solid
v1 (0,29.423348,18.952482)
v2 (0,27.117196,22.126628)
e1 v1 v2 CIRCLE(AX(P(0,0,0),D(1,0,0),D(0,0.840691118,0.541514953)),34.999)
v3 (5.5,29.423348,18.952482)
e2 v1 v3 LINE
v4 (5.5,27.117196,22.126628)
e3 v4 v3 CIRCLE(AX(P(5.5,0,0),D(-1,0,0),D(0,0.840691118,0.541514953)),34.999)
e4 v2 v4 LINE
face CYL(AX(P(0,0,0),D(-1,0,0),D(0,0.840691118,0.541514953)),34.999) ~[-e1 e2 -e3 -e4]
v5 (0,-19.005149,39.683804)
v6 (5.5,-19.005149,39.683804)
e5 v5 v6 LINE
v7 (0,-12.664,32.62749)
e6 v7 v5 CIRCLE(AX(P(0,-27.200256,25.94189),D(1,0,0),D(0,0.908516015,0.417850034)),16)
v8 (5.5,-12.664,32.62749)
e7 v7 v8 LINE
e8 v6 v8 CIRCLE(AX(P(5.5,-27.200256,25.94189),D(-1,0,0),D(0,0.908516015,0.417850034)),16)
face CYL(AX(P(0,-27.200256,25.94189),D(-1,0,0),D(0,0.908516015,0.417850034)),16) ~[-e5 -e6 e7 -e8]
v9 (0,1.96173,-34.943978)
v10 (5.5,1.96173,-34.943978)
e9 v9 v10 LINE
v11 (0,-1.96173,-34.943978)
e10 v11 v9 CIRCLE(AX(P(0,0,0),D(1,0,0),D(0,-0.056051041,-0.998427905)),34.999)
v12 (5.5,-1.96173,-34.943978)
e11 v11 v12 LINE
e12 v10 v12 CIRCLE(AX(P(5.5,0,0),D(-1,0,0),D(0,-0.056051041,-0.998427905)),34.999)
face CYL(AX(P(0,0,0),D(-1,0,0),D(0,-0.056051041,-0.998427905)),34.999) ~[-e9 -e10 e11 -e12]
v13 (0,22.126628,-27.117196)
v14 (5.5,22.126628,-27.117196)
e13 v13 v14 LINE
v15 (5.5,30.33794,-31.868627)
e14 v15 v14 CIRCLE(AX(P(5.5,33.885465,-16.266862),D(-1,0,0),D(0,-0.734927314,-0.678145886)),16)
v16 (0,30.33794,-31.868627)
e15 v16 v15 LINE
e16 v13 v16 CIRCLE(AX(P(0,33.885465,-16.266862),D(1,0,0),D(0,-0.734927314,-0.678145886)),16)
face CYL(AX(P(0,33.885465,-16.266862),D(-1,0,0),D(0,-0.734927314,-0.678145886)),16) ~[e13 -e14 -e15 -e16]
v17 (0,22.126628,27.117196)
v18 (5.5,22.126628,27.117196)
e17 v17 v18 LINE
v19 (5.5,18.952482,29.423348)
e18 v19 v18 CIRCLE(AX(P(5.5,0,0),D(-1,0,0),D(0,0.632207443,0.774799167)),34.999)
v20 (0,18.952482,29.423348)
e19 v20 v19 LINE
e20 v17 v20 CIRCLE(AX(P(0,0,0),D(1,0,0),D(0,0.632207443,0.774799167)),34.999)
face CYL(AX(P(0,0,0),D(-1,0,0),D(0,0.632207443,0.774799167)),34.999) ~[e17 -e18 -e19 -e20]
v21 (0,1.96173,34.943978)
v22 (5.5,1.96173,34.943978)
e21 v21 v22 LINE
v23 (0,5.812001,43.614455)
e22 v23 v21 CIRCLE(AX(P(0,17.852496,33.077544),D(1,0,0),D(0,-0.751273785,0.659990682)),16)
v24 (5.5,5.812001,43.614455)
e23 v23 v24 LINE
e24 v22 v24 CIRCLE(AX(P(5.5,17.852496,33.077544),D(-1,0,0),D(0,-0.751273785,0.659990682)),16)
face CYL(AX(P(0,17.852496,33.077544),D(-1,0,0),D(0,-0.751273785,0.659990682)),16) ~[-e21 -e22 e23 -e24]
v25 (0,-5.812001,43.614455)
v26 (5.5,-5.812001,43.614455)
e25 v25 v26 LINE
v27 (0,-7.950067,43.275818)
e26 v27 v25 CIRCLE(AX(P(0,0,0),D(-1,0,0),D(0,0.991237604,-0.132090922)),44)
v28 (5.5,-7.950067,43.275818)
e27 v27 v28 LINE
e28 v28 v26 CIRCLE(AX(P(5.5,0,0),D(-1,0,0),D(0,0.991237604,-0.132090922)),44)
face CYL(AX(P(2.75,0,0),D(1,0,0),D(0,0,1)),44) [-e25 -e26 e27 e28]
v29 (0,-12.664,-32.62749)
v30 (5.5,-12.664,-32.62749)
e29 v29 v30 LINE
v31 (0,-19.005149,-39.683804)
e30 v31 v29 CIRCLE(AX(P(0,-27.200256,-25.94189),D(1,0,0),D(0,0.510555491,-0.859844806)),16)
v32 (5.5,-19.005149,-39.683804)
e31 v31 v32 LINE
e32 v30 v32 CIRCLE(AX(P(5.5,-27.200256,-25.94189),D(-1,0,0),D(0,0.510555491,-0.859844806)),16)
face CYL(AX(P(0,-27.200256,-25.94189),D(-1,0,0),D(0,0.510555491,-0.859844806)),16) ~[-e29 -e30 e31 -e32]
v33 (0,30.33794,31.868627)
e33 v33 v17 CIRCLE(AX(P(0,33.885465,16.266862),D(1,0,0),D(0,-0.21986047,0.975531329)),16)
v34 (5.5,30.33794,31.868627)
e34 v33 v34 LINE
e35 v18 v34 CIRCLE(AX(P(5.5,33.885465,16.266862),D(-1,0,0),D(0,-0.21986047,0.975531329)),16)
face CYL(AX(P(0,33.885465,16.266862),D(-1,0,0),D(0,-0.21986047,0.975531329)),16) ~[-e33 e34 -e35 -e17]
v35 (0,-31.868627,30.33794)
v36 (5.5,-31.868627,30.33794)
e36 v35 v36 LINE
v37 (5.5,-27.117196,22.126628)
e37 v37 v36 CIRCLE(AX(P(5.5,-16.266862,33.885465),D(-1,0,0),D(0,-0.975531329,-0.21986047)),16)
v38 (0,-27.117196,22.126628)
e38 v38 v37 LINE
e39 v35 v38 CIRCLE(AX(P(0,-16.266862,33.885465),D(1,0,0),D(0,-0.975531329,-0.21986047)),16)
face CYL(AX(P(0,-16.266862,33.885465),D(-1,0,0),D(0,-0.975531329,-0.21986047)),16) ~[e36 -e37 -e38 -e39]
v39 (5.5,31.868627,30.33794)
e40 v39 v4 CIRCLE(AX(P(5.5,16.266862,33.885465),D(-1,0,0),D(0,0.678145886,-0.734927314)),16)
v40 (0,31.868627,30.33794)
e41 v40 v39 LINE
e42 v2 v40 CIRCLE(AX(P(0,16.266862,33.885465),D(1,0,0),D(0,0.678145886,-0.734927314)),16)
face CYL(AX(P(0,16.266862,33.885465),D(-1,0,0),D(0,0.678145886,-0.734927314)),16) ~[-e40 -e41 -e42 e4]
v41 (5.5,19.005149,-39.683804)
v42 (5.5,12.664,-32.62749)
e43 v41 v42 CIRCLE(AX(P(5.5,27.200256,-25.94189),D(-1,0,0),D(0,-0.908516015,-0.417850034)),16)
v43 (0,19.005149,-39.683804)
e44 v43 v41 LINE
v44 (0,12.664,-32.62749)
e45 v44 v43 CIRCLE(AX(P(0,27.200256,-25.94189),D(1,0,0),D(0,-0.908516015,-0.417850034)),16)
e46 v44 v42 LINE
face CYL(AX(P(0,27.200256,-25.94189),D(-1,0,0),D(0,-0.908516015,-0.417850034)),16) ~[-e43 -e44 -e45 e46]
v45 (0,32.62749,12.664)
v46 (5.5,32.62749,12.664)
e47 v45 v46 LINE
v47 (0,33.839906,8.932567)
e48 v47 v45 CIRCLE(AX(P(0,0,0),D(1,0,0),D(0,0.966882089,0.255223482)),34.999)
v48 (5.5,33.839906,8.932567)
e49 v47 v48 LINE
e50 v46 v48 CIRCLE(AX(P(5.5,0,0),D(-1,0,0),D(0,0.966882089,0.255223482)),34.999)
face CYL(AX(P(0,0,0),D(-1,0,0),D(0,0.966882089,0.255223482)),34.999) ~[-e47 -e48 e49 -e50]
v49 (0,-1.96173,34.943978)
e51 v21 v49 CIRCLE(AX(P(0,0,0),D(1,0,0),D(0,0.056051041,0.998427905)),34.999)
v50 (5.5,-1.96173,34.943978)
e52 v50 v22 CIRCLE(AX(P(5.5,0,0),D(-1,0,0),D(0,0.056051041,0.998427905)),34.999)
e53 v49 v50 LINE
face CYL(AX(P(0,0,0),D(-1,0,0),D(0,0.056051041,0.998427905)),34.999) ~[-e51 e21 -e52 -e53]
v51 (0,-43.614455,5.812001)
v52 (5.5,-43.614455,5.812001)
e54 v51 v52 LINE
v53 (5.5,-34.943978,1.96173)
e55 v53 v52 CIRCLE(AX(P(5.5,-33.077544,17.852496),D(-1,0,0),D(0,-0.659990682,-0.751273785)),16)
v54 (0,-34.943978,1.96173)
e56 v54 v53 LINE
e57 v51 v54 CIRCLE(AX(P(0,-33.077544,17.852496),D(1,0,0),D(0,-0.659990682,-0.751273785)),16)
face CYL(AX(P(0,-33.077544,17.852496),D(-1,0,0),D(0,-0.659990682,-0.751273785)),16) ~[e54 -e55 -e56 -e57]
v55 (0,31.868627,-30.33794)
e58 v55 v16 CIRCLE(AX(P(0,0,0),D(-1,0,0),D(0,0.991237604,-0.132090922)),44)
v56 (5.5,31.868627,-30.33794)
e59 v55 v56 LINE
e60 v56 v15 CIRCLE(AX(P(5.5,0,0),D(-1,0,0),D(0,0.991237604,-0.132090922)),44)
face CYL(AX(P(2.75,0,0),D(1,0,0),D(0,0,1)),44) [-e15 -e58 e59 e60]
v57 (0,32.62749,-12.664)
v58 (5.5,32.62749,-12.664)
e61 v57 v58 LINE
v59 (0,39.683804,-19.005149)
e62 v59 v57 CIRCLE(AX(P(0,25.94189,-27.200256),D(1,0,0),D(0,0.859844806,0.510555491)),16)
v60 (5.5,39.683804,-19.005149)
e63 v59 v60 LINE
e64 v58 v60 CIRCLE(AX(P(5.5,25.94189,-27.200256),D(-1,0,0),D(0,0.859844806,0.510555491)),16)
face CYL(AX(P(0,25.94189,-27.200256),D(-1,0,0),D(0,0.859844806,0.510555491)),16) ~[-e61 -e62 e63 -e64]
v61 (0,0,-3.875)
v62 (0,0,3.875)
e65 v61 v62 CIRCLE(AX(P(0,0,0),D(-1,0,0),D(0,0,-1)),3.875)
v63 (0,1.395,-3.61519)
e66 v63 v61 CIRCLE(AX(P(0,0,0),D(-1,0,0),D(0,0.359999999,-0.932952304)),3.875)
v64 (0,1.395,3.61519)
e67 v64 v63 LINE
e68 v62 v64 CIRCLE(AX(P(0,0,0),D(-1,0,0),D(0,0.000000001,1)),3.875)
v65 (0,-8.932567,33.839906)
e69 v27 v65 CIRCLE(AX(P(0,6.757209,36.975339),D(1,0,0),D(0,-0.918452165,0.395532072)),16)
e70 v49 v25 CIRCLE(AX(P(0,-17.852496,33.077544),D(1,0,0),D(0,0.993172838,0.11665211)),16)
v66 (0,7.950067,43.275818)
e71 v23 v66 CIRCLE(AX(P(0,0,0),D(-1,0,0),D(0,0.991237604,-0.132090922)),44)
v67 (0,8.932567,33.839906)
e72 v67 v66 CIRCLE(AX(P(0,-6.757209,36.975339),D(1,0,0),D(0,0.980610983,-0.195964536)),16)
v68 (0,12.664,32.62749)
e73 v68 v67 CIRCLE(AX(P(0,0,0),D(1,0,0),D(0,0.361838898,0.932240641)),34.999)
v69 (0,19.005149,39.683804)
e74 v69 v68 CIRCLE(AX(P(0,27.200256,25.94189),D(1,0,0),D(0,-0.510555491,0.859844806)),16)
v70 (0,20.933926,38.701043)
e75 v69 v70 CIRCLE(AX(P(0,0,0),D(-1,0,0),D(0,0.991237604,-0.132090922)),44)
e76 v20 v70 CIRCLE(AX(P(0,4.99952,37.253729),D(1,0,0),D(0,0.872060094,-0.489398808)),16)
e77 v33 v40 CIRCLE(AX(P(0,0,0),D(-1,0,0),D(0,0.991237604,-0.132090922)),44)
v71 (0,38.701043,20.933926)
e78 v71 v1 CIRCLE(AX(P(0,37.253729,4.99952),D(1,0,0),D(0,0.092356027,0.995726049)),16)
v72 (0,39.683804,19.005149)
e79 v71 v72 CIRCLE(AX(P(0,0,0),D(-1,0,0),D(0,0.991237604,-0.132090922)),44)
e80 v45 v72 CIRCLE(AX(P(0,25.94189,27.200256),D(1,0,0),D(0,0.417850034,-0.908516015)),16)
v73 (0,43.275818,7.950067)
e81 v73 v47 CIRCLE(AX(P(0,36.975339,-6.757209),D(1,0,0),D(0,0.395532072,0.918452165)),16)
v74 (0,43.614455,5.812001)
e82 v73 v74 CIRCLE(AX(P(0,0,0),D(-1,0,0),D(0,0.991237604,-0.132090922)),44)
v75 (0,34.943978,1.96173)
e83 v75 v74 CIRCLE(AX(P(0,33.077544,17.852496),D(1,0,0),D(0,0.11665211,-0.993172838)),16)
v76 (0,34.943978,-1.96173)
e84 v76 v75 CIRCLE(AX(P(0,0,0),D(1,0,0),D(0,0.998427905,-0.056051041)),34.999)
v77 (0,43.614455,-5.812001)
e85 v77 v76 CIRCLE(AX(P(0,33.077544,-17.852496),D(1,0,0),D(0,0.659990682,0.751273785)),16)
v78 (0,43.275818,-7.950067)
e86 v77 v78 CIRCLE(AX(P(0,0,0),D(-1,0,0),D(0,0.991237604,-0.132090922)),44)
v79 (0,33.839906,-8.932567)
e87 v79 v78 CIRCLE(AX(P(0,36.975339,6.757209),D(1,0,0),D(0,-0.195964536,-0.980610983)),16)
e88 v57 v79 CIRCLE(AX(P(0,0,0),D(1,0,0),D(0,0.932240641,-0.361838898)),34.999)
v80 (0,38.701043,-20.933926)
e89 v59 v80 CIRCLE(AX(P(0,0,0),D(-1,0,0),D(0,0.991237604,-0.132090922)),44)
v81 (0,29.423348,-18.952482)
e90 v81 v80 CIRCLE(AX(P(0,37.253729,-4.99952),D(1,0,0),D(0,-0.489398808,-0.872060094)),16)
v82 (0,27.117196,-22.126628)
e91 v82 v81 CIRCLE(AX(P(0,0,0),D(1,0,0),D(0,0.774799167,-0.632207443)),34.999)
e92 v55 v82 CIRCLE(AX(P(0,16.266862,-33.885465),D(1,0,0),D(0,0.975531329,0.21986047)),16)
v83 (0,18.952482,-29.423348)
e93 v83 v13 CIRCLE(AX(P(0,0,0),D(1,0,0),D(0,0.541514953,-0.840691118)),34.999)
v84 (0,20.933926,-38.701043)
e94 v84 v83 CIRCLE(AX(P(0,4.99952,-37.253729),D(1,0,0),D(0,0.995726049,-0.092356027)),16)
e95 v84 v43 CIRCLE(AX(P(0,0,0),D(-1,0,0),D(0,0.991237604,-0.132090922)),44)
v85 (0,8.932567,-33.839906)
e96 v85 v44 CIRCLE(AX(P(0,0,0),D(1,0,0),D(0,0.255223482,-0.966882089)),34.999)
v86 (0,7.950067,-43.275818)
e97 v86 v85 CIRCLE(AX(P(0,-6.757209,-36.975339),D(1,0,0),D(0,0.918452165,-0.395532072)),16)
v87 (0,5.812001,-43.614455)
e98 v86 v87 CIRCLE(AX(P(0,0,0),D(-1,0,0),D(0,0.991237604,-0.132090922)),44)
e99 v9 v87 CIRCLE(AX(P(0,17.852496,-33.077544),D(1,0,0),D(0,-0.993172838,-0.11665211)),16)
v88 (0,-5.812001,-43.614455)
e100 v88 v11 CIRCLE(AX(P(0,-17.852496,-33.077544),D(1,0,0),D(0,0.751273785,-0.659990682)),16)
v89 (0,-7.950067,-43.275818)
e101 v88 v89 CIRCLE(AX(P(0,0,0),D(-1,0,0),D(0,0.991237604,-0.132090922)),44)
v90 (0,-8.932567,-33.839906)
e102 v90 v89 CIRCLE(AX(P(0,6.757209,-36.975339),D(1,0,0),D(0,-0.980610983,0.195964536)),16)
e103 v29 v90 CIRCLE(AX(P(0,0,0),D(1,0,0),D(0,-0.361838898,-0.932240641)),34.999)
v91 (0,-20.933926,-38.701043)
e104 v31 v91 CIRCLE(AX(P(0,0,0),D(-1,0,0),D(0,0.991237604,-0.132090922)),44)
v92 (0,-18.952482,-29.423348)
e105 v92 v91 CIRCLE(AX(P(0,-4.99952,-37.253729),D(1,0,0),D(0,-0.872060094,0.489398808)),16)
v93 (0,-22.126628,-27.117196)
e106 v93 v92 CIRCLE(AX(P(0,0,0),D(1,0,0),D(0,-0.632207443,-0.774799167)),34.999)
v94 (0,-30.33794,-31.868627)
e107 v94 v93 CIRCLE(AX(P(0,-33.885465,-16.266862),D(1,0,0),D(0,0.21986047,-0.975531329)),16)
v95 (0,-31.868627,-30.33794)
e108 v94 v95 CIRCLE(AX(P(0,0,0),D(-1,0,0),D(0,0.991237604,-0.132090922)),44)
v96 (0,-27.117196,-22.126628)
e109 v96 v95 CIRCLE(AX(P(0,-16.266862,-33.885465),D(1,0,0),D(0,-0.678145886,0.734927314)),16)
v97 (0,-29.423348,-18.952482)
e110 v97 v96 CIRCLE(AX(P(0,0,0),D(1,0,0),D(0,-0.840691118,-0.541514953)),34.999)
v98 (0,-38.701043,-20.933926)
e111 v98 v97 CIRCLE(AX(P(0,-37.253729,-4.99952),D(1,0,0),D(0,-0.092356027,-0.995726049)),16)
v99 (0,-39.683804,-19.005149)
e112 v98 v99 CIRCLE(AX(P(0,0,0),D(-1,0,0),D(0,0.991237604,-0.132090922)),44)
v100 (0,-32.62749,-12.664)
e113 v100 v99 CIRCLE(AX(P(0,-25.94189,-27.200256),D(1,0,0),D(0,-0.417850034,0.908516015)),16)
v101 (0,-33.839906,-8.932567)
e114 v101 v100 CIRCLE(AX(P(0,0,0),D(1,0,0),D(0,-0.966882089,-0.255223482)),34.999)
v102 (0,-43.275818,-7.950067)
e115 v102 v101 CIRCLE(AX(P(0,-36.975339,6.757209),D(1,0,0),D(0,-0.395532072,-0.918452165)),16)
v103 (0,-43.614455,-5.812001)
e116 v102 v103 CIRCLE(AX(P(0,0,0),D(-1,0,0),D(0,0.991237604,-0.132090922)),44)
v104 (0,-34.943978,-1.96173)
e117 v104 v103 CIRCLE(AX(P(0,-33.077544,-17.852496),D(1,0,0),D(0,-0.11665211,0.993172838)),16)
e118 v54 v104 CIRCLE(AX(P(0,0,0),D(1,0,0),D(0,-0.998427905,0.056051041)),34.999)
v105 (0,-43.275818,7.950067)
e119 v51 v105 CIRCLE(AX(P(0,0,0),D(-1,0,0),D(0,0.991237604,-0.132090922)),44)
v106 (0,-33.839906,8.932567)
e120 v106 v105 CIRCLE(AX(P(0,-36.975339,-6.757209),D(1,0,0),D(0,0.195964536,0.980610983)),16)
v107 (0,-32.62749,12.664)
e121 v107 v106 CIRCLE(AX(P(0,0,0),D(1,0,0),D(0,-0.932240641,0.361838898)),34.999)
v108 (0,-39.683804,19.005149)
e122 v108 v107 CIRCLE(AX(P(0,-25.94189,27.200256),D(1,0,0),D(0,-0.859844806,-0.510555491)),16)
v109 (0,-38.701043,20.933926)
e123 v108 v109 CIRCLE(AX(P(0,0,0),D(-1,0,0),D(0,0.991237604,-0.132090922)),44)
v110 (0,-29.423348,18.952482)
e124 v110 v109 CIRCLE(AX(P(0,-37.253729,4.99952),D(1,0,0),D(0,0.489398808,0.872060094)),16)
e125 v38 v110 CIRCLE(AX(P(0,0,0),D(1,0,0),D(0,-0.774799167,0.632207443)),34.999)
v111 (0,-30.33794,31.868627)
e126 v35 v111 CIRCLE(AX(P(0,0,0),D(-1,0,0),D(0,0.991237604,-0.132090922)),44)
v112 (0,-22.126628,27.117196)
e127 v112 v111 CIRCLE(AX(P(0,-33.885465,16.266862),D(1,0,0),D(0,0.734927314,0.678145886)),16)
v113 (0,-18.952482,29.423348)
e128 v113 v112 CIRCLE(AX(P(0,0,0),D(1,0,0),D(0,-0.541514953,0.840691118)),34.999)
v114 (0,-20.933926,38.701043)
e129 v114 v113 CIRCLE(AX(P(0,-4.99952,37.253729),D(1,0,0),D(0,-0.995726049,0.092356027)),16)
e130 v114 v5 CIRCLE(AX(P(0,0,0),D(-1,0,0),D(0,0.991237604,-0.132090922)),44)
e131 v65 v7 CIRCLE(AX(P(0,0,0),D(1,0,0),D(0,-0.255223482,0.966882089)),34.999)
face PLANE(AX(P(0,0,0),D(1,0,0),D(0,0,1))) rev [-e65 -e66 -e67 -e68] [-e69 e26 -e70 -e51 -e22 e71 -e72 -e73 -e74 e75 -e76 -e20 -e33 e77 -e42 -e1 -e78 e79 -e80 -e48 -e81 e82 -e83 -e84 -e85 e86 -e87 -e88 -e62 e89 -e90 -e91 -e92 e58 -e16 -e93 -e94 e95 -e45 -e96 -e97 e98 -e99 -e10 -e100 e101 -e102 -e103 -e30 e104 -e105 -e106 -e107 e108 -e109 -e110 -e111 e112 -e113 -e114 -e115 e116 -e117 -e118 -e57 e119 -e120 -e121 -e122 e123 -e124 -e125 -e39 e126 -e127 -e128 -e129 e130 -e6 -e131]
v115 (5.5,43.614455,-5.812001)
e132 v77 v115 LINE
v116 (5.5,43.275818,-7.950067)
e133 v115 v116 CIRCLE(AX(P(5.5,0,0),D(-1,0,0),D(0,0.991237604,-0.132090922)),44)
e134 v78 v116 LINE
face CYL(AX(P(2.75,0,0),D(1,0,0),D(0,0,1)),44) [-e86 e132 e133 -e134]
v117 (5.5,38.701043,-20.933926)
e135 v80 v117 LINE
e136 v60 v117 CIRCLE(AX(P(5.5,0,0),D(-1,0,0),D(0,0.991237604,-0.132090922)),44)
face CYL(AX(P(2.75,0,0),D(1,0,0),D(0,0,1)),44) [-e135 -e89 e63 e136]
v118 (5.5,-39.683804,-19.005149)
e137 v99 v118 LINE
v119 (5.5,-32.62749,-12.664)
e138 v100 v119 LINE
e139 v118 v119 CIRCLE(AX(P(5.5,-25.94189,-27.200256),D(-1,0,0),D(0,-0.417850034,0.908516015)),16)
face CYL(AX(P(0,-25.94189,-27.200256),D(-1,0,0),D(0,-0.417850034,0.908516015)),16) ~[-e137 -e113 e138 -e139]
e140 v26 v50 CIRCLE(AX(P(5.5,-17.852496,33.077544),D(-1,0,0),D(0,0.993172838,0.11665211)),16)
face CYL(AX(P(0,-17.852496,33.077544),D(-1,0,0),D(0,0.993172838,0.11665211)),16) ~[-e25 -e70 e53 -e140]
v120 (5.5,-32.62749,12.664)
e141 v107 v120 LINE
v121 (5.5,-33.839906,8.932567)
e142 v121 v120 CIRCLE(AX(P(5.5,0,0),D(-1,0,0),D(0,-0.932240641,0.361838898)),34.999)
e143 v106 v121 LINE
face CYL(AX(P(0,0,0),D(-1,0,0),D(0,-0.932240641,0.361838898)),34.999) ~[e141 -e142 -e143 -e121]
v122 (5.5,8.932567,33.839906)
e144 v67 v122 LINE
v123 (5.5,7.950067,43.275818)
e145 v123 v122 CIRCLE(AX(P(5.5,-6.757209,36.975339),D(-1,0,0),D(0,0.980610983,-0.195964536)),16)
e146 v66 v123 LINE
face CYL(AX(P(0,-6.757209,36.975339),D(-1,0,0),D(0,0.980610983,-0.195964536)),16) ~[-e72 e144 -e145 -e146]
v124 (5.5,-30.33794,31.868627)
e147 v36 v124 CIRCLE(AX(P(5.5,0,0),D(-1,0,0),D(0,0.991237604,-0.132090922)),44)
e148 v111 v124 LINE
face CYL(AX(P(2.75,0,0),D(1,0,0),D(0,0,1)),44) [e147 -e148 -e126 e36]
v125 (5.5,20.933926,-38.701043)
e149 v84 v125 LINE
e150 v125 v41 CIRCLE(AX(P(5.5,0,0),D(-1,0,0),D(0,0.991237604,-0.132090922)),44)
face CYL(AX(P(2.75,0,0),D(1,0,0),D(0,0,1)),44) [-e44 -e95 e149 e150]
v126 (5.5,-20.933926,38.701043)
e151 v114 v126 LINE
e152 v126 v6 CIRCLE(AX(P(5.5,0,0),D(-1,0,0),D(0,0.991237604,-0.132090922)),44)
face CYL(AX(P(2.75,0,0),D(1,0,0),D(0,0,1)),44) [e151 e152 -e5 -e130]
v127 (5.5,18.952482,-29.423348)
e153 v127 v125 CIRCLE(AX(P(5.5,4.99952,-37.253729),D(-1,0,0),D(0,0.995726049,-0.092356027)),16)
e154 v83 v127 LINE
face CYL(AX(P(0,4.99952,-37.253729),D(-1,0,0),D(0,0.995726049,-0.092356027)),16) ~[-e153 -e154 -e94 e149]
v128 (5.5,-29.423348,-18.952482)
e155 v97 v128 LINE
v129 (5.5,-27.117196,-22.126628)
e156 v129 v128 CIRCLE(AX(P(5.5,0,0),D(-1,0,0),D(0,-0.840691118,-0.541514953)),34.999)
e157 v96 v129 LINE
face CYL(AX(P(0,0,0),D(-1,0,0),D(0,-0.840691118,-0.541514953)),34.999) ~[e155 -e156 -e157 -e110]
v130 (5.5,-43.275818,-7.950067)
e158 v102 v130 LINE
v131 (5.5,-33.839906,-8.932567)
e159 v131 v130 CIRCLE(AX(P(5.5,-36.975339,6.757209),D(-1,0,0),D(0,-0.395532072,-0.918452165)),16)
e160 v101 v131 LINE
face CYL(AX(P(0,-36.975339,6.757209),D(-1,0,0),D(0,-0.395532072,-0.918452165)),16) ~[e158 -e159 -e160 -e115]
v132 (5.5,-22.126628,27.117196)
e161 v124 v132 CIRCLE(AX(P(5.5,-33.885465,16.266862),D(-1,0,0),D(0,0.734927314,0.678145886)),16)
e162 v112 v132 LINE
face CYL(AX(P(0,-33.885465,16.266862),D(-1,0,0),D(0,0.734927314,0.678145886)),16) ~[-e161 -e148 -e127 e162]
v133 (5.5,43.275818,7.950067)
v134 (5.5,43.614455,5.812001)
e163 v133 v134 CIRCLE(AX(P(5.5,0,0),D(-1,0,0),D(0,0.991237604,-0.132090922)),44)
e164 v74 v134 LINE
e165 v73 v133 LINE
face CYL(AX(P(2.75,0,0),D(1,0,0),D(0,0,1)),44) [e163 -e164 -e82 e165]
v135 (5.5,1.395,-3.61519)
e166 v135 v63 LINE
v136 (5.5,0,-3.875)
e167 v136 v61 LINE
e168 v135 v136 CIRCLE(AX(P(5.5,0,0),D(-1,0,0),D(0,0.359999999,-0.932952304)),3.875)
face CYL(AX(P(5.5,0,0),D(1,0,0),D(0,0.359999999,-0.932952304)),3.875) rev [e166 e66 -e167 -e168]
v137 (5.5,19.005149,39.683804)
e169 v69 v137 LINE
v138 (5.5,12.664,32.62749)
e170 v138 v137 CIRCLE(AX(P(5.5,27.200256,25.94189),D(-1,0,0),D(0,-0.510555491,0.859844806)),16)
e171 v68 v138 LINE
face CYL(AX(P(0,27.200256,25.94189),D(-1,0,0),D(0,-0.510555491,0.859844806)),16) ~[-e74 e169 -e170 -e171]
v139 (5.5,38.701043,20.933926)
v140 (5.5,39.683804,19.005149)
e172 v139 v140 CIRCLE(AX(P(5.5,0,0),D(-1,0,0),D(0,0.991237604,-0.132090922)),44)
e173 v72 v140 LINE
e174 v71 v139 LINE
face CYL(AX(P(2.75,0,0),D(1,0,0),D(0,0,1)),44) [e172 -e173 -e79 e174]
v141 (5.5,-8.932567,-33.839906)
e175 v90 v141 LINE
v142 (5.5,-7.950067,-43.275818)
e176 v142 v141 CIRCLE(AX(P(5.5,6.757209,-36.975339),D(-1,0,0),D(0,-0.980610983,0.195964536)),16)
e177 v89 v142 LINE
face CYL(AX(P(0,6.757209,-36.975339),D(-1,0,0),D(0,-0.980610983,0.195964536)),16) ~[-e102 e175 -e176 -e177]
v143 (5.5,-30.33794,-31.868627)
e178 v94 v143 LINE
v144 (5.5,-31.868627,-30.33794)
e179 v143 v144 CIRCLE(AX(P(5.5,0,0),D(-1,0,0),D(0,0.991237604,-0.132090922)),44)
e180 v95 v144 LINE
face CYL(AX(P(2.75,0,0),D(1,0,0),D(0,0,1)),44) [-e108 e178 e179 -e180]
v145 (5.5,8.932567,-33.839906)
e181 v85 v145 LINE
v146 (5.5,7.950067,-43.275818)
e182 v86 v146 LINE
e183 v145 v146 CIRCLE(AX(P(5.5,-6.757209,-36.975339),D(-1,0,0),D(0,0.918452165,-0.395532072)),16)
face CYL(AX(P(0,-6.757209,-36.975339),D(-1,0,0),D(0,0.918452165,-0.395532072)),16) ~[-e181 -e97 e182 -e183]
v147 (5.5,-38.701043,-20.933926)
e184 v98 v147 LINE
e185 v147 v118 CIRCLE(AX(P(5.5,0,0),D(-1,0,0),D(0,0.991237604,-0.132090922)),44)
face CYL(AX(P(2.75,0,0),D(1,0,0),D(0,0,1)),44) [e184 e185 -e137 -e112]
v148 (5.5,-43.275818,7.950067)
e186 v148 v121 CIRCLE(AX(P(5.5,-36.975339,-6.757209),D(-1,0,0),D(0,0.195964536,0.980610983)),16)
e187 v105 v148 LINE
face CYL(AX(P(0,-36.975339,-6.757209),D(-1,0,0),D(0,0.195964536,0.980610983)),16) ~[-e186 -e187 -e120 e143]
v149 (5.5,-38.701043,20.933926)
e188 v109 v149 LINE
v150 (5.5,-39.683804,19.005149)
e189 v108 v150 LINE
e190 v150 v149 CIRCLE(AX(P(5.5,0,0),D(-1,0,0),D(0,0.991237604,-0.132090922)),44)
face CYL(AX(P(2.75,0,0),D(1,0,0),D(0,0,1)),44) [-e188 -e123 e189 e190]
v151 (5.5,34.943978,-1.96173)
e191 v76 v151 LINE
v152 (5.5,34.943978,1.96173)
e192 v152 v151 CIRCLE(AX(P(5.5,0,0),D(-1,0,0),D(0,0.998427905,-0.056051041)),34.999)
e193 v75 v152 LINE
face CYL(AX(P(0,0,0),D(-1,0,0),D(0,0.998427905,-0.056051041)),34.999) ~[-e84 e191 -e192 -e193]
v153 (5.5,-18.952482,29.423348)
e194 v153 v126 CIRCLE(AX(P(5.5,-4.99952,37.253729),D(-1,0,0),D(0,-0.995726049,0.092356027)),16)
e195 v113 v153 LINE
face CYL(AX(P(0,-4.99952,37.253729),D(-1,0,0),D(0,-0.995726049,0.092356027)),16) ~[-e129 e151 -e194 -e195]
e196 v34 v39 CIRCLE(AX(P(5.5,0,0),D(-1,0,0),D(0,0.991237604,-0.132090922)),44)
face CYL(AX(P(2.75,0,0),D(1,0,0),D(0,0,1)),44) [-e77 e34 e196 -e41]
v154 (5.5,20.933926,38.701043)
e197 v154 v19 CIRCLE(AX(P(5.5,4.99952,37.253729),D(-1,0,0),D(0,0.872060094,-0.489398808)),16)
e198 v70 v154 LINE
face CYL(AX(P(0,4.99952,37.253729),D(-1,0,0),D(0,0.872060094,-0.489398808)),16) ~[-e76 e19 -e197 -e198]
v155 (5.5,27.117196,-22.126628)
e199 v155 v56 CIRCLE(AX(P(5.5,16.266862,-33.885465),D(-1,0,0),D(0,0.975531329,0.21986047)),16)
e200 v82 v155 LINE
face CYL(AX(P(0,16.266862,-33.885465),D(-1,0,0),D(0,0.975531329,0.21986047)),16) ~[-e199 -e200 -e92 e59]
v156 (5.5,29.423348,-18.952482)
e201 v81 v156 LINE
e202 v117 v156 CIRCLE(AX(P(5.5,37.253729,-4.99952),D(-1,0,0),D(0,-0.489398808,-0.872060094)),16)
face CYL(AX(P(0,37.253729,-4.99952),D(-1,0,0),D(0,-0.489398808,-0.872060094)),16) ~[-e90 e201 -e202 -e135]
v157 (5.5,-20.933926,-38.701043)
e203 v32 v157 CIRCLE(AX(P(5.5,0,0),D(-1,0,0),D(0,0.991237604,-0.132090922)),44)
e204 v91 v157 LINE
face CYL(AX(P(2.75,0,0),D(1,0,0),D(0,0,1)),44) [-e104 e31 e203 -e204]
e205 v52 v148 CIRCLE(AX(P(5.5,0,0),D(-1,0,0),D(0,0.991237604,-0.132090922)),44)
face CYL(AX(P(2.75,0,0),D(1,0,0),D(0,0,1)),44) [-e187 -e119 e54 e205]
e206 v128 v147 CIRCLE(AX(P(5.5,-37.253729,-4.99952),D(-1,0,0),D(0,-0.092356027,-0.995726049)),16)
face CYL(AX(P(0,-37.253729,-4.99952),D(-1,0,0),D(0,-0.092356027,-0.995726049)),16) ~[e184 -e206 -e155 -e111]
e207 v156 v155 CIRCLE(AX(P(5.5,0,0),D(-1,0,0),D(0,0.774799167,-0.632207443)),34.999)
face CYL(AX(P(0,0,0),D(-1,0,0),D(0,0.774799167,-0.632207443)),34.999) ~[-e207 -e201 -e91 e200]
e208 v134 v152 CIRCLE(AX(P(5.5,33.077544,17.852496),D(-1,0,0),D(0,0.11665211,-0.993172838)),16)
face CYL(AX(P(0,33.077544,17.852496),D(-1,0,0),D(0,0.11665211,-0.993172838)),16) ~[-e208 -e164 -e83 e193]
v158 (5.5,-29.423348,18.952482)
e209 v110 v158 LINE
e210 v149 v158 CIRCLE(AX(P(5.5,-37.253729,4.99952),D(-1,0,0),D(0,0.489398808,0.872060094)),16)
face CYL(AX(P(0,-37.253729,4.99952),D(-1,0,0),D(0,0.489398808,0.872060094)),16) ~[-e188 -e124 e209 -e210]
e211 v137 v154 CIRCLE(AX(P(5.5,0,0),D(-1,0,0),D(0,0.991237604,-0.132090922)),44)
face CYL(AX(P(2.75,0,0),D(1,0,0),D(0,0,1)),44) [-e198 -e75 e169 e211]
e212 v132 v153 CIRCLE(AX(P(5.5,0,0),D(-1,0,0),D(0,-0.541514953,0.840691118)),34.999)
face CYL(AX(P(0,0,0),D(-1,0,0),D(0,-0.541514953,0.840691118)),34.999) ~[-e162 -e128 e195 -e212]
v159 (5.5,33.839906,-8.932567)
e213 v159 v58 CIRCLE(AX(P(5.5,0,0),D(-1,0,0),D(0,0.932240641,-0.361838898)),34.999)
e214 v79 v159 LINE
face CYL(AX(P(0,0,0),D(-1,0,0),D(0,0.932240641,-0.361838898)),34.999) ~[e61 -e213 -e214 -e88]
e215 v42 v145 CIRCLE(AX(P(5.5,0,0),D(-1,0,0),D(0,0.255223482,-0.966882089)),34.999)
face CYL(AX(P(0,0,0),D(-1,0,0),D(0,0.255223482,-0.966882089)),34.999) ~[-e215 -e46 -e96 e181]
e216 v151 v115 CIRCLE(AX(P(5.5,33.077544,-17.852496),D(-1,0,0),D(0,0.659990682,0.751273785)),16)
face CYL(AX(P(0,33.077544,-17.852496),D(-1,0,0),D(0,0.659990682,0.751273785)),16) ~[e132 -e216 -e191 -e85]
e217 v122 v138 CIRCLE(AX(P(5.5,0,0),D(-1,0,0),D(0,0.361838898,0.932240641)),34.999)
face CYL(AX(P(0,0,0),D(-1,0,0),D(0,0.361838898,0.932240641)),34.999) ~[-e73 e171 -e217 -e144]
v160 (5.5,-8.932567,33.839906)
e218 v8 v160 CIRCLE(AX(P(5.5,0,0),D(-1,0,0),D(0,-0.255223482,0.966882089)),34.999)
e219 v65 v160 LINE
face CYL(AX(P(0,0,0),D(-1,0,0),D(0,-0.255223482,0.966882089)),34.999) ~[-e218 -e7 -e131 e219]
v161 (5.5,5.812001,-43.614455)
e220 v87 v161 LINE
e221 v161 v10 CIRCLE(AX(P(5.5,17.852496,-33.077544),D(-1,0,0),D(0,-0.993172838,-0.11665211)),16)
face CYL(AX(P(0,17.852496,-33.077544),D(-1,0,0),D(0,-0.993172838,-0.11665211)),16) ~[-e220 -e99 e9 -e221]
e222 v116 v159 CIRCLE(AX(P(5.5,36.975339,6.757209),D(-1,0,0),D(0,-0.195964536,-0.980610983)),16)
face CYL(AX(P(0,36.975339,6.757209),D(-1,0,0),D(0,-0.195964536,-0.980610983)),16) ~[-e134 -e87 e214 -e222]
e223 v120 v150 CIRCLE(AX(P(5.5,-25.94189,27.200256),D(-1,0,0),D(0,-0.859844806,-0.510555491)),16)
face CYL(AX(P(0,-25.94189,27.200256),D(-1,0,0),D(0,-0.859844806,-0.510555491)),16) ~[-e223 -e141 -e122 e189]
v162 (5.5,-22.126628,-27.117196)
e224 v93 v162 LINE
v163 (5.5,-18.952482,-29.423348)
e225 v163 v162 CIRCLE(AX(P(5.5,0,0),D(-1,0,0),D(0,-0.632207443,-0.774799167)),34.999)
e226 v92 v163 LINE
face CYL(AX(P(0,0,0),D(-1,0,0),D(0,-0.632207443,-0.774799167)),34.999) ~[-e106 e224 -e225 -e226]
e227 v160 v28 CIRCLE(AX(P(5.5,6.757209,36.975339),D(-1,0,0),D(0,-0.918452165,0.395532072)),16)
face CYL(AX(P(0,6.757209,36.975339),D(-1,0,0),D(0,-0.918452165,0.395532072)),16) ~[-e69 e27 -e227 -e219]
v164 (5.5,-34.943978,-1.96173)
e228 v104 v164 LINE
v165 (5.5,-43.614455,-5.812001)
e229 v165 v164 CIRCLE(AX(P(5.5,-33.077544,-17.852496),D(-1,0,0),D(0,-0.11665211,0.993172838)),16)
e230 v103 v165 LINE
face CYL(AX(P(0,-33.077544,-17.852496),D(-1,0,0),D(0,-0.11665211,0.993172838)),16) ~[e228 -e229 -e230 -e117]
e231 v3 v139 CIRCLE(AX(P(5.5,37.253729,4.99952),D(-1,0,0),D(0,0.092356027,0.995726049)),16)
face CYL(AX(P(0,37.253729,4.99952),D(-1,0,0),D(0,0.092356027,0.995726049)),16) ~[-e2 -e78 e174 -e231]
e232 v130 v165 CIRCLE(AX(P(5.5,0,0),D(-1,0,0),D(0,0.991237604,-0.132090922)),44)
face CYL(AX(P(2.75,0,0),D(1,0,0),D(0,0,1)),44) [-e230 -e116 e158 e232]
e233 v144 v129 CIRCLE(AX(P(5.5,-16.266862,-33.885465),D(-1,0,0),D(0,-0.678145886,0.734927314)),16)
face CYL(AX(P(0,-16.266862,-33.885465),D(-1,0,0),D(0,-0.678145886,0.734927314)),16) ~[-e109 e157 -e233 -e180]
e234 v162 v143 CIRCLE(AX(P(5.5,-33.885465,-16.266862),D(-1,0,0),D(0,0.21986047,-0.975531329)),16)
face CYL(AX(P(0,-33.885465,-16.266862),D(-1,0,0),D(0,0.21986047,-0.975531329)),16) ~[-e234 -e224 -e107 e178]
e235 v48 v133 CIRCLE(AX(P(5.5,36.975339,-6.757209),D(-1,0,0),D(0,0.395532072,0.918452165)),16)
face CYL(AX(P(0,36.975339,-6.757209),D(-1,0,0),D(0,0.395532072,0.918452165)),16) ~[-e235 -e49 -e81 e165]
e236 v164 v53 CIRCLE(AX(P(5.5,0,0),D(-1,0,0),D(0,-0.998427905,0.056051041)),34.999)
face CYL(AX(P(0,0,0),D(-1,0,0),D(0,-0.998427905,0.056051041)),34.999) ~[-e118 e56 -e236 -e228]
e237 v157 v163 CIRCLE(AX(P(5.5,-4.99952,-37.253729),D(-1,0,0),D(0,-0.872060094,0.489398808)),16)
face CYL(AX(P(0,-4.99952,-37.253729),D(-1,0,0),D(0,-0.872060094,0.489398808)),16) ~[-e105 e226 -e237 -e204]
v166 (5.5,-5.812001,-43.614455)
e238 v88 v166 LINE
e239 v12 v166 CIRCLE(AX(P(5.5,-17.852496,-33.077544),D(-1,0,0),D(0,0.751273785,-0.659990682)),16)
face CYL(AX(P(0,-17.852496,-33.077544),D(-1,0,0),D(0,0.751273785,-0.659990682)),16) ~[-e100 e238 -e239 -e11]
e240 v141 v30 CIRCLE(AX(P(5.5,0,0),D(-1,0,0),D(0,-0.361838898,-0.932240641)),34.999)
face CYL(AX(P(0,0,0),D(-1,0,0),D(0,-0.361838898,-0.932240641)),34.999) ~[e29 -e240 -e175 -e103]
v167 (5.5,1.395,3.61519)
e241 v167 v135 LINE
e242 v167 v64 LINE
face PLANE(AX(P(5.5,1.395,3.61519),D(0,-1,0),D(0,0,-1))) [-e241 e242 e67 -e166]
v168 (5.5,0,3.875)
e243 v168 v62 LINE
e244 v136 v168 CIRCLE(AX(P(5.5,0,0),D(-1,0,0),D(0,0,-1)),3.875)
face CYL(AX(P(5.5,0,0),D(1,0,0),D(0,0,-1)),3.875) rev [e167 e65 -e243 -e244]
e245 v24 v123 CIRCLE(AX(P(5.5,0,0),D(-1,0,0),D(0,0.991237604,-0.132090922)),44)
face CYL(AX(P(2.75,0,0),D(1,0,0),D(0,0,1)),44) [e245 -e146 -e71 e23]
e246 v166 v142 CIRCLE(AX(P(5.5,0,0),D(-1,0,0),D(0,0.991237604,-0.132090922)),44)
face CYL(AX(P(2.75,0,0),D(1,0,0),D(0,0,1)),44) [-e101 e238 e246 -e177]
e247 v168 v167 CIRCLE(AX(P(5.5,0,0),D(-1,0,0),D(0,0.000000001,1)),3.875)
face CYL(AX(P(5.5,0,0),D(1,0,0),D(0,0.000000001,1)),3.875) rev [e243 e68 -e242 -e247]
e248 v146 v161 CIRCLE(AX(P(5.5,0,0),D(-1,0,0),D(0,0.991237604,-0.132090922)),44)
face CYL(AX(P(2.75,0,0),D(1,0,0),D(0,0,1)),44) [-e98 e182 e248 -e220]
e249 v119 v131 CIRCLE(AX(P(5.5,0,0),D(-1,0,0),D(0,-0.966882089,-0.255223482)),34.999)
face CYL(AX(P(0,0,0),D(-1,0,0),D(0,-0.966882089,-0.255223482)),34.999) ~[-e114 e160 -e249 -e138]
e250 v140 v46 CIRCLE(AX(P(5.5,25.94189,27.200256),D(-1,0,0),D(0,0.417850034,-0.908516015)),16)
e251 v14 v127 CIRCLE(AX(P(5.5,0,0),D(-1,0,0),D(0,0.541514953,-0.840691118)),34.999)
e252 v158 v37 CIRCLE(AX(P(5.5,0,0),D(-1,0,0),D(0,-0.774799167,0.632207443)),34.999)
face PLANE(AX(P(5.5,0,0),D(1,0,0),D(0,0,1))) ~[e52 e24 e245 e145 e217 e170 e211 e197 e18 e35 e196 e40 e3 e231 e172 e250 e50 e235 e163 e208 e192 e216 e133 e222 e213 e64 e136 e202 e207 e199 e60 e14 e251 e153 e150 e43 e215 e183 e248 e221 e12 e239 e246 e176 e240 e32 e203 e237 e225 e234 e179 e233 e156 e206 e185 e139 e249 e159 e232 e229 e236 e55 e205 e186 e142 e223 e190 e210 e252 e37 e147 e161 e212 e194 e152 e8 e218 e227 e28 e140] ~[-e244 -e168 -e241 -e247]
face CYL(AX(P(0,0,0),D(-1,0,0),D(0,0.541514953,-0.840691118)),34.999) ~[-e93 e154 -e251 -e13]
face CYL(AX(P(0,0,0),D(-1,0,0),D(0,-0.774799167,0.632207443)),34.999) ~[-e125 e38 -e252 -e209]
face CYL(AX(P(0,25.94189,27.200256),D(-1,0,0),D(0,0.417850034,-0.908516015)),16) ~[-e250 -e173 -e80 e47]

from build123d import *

# Parameters (mm, degrees)
BASPROSKE_W           = 5.5
BASPROSKE_H           = 44
TOOTHCUT_DEPTH        = 63.467991804
TEETHCUTS_COUNT       = 20
TEETHCUTS_ANGLE       = 342
BORSKE_R              = 0.5
BORE_DEPTH            = 50.0000508
CORTAR_EXTRUIR1_DEPTH = 5.5


with BuildPart() as part:
    # BasProSke → Base-Revolve (revolve)
    with BuildSketch(Plane(origin=(0, 0, 0), x_dir=(1, 0, 0), z_dir=(0, 1, 0)), mode=Mode.PRIVATE) as base_revolve_sk:
        with Locations((2.75, 22)):
            Rectangle(BASPROSKE_W, BASPROSKE_H)
    revolve(base_revolve_sk.sketch.rotate(Axis((-10, 0, 0), (1, 0, 0)), 180), axis=Axis((-10, 0, 0), (1, 0, 0)))

    # TooCutSke → ToothCut (cut, through all)
    with BuildSketch(Plane(origin=(0, 0, 0), x_dir=(0, 0, -1), z_dir=(1, 0, 0))):
        with BuildLine():
            ThreePointArc((1.961730392, 34.943978235), (0, 34.999), (-1.961730392, 34.943978235))
            ThreePointArc((-1.961730392, 34.943978235), (-3.235659864, 39.585086827), (-5.832115241, 43.637395396))
            ThreePointArc((-5.832115241, 43.637395396), (0, 44.0254), (5.832115241, 43.637395396))
            ThreePointArc((5.832115241, 43.637395396), (3.235659864, 39.585086827), (1.961730392, 34.943978235))
        make_face()
    toothcut = extrude(amount=TOOTHCUT_DEPTH, mode=Mode.SUBTRACT)

    # TeethCuts: ToothCut ×20 about axis
    teethcuts_axis = Axis((-10, 0, 0), (1, 0, 0))
    for i in range(1, TEETHCUTS_COUNT):
        add(toothcut.rotate(teethcuts_axis, i * TEETHCUTS_ANGLE / (TEETHCUTS_COUNT - 1)), mode=Mode.SUBTRACT)

    # BorSke → Bore (cut, symmetric)
    with BuildSketch(Plane(origin=(0, 0, 0), x_dir=(0, 0, -1), z_dir=(1, 0, 0))):
        with Locations(Location((0, 0, 0), (0, 0, 180))):
            Circle(BORSKE_R)
    extrude(amount=BORE_DEPTH, both=True, mode=Mode.SUBTRACT)

    # Croquis1 → Cortar-Extruir1 (cut)
    with BuildSketch(Plane(origin=(5.5, 0, 0), x_dir=(0, 0, -1), z_dir=(1, 0, 0))):
        with BuildLine():
            Line((0, 1.395), (3.615190175, 1.395))
            ThreePointArc((3.615190175, 1.395), (3.809493859, 0.709493859), (3.875, 0))
            ThreePointArc((3.875, 0), (0, -3.875), (-3.875, 0))
            ThreePointArc((-3.875, 0), (-3.809493859, 0.709493859), (-3.615190175, 1.395))
            Line((-3.615190175, 1.395), (0, 1.395))
        make_face()
    extrude(amount=-CORTAR_EXTRUIR1_DEPTH, mode=Mode.SUBTRACT)


solid = part.part
